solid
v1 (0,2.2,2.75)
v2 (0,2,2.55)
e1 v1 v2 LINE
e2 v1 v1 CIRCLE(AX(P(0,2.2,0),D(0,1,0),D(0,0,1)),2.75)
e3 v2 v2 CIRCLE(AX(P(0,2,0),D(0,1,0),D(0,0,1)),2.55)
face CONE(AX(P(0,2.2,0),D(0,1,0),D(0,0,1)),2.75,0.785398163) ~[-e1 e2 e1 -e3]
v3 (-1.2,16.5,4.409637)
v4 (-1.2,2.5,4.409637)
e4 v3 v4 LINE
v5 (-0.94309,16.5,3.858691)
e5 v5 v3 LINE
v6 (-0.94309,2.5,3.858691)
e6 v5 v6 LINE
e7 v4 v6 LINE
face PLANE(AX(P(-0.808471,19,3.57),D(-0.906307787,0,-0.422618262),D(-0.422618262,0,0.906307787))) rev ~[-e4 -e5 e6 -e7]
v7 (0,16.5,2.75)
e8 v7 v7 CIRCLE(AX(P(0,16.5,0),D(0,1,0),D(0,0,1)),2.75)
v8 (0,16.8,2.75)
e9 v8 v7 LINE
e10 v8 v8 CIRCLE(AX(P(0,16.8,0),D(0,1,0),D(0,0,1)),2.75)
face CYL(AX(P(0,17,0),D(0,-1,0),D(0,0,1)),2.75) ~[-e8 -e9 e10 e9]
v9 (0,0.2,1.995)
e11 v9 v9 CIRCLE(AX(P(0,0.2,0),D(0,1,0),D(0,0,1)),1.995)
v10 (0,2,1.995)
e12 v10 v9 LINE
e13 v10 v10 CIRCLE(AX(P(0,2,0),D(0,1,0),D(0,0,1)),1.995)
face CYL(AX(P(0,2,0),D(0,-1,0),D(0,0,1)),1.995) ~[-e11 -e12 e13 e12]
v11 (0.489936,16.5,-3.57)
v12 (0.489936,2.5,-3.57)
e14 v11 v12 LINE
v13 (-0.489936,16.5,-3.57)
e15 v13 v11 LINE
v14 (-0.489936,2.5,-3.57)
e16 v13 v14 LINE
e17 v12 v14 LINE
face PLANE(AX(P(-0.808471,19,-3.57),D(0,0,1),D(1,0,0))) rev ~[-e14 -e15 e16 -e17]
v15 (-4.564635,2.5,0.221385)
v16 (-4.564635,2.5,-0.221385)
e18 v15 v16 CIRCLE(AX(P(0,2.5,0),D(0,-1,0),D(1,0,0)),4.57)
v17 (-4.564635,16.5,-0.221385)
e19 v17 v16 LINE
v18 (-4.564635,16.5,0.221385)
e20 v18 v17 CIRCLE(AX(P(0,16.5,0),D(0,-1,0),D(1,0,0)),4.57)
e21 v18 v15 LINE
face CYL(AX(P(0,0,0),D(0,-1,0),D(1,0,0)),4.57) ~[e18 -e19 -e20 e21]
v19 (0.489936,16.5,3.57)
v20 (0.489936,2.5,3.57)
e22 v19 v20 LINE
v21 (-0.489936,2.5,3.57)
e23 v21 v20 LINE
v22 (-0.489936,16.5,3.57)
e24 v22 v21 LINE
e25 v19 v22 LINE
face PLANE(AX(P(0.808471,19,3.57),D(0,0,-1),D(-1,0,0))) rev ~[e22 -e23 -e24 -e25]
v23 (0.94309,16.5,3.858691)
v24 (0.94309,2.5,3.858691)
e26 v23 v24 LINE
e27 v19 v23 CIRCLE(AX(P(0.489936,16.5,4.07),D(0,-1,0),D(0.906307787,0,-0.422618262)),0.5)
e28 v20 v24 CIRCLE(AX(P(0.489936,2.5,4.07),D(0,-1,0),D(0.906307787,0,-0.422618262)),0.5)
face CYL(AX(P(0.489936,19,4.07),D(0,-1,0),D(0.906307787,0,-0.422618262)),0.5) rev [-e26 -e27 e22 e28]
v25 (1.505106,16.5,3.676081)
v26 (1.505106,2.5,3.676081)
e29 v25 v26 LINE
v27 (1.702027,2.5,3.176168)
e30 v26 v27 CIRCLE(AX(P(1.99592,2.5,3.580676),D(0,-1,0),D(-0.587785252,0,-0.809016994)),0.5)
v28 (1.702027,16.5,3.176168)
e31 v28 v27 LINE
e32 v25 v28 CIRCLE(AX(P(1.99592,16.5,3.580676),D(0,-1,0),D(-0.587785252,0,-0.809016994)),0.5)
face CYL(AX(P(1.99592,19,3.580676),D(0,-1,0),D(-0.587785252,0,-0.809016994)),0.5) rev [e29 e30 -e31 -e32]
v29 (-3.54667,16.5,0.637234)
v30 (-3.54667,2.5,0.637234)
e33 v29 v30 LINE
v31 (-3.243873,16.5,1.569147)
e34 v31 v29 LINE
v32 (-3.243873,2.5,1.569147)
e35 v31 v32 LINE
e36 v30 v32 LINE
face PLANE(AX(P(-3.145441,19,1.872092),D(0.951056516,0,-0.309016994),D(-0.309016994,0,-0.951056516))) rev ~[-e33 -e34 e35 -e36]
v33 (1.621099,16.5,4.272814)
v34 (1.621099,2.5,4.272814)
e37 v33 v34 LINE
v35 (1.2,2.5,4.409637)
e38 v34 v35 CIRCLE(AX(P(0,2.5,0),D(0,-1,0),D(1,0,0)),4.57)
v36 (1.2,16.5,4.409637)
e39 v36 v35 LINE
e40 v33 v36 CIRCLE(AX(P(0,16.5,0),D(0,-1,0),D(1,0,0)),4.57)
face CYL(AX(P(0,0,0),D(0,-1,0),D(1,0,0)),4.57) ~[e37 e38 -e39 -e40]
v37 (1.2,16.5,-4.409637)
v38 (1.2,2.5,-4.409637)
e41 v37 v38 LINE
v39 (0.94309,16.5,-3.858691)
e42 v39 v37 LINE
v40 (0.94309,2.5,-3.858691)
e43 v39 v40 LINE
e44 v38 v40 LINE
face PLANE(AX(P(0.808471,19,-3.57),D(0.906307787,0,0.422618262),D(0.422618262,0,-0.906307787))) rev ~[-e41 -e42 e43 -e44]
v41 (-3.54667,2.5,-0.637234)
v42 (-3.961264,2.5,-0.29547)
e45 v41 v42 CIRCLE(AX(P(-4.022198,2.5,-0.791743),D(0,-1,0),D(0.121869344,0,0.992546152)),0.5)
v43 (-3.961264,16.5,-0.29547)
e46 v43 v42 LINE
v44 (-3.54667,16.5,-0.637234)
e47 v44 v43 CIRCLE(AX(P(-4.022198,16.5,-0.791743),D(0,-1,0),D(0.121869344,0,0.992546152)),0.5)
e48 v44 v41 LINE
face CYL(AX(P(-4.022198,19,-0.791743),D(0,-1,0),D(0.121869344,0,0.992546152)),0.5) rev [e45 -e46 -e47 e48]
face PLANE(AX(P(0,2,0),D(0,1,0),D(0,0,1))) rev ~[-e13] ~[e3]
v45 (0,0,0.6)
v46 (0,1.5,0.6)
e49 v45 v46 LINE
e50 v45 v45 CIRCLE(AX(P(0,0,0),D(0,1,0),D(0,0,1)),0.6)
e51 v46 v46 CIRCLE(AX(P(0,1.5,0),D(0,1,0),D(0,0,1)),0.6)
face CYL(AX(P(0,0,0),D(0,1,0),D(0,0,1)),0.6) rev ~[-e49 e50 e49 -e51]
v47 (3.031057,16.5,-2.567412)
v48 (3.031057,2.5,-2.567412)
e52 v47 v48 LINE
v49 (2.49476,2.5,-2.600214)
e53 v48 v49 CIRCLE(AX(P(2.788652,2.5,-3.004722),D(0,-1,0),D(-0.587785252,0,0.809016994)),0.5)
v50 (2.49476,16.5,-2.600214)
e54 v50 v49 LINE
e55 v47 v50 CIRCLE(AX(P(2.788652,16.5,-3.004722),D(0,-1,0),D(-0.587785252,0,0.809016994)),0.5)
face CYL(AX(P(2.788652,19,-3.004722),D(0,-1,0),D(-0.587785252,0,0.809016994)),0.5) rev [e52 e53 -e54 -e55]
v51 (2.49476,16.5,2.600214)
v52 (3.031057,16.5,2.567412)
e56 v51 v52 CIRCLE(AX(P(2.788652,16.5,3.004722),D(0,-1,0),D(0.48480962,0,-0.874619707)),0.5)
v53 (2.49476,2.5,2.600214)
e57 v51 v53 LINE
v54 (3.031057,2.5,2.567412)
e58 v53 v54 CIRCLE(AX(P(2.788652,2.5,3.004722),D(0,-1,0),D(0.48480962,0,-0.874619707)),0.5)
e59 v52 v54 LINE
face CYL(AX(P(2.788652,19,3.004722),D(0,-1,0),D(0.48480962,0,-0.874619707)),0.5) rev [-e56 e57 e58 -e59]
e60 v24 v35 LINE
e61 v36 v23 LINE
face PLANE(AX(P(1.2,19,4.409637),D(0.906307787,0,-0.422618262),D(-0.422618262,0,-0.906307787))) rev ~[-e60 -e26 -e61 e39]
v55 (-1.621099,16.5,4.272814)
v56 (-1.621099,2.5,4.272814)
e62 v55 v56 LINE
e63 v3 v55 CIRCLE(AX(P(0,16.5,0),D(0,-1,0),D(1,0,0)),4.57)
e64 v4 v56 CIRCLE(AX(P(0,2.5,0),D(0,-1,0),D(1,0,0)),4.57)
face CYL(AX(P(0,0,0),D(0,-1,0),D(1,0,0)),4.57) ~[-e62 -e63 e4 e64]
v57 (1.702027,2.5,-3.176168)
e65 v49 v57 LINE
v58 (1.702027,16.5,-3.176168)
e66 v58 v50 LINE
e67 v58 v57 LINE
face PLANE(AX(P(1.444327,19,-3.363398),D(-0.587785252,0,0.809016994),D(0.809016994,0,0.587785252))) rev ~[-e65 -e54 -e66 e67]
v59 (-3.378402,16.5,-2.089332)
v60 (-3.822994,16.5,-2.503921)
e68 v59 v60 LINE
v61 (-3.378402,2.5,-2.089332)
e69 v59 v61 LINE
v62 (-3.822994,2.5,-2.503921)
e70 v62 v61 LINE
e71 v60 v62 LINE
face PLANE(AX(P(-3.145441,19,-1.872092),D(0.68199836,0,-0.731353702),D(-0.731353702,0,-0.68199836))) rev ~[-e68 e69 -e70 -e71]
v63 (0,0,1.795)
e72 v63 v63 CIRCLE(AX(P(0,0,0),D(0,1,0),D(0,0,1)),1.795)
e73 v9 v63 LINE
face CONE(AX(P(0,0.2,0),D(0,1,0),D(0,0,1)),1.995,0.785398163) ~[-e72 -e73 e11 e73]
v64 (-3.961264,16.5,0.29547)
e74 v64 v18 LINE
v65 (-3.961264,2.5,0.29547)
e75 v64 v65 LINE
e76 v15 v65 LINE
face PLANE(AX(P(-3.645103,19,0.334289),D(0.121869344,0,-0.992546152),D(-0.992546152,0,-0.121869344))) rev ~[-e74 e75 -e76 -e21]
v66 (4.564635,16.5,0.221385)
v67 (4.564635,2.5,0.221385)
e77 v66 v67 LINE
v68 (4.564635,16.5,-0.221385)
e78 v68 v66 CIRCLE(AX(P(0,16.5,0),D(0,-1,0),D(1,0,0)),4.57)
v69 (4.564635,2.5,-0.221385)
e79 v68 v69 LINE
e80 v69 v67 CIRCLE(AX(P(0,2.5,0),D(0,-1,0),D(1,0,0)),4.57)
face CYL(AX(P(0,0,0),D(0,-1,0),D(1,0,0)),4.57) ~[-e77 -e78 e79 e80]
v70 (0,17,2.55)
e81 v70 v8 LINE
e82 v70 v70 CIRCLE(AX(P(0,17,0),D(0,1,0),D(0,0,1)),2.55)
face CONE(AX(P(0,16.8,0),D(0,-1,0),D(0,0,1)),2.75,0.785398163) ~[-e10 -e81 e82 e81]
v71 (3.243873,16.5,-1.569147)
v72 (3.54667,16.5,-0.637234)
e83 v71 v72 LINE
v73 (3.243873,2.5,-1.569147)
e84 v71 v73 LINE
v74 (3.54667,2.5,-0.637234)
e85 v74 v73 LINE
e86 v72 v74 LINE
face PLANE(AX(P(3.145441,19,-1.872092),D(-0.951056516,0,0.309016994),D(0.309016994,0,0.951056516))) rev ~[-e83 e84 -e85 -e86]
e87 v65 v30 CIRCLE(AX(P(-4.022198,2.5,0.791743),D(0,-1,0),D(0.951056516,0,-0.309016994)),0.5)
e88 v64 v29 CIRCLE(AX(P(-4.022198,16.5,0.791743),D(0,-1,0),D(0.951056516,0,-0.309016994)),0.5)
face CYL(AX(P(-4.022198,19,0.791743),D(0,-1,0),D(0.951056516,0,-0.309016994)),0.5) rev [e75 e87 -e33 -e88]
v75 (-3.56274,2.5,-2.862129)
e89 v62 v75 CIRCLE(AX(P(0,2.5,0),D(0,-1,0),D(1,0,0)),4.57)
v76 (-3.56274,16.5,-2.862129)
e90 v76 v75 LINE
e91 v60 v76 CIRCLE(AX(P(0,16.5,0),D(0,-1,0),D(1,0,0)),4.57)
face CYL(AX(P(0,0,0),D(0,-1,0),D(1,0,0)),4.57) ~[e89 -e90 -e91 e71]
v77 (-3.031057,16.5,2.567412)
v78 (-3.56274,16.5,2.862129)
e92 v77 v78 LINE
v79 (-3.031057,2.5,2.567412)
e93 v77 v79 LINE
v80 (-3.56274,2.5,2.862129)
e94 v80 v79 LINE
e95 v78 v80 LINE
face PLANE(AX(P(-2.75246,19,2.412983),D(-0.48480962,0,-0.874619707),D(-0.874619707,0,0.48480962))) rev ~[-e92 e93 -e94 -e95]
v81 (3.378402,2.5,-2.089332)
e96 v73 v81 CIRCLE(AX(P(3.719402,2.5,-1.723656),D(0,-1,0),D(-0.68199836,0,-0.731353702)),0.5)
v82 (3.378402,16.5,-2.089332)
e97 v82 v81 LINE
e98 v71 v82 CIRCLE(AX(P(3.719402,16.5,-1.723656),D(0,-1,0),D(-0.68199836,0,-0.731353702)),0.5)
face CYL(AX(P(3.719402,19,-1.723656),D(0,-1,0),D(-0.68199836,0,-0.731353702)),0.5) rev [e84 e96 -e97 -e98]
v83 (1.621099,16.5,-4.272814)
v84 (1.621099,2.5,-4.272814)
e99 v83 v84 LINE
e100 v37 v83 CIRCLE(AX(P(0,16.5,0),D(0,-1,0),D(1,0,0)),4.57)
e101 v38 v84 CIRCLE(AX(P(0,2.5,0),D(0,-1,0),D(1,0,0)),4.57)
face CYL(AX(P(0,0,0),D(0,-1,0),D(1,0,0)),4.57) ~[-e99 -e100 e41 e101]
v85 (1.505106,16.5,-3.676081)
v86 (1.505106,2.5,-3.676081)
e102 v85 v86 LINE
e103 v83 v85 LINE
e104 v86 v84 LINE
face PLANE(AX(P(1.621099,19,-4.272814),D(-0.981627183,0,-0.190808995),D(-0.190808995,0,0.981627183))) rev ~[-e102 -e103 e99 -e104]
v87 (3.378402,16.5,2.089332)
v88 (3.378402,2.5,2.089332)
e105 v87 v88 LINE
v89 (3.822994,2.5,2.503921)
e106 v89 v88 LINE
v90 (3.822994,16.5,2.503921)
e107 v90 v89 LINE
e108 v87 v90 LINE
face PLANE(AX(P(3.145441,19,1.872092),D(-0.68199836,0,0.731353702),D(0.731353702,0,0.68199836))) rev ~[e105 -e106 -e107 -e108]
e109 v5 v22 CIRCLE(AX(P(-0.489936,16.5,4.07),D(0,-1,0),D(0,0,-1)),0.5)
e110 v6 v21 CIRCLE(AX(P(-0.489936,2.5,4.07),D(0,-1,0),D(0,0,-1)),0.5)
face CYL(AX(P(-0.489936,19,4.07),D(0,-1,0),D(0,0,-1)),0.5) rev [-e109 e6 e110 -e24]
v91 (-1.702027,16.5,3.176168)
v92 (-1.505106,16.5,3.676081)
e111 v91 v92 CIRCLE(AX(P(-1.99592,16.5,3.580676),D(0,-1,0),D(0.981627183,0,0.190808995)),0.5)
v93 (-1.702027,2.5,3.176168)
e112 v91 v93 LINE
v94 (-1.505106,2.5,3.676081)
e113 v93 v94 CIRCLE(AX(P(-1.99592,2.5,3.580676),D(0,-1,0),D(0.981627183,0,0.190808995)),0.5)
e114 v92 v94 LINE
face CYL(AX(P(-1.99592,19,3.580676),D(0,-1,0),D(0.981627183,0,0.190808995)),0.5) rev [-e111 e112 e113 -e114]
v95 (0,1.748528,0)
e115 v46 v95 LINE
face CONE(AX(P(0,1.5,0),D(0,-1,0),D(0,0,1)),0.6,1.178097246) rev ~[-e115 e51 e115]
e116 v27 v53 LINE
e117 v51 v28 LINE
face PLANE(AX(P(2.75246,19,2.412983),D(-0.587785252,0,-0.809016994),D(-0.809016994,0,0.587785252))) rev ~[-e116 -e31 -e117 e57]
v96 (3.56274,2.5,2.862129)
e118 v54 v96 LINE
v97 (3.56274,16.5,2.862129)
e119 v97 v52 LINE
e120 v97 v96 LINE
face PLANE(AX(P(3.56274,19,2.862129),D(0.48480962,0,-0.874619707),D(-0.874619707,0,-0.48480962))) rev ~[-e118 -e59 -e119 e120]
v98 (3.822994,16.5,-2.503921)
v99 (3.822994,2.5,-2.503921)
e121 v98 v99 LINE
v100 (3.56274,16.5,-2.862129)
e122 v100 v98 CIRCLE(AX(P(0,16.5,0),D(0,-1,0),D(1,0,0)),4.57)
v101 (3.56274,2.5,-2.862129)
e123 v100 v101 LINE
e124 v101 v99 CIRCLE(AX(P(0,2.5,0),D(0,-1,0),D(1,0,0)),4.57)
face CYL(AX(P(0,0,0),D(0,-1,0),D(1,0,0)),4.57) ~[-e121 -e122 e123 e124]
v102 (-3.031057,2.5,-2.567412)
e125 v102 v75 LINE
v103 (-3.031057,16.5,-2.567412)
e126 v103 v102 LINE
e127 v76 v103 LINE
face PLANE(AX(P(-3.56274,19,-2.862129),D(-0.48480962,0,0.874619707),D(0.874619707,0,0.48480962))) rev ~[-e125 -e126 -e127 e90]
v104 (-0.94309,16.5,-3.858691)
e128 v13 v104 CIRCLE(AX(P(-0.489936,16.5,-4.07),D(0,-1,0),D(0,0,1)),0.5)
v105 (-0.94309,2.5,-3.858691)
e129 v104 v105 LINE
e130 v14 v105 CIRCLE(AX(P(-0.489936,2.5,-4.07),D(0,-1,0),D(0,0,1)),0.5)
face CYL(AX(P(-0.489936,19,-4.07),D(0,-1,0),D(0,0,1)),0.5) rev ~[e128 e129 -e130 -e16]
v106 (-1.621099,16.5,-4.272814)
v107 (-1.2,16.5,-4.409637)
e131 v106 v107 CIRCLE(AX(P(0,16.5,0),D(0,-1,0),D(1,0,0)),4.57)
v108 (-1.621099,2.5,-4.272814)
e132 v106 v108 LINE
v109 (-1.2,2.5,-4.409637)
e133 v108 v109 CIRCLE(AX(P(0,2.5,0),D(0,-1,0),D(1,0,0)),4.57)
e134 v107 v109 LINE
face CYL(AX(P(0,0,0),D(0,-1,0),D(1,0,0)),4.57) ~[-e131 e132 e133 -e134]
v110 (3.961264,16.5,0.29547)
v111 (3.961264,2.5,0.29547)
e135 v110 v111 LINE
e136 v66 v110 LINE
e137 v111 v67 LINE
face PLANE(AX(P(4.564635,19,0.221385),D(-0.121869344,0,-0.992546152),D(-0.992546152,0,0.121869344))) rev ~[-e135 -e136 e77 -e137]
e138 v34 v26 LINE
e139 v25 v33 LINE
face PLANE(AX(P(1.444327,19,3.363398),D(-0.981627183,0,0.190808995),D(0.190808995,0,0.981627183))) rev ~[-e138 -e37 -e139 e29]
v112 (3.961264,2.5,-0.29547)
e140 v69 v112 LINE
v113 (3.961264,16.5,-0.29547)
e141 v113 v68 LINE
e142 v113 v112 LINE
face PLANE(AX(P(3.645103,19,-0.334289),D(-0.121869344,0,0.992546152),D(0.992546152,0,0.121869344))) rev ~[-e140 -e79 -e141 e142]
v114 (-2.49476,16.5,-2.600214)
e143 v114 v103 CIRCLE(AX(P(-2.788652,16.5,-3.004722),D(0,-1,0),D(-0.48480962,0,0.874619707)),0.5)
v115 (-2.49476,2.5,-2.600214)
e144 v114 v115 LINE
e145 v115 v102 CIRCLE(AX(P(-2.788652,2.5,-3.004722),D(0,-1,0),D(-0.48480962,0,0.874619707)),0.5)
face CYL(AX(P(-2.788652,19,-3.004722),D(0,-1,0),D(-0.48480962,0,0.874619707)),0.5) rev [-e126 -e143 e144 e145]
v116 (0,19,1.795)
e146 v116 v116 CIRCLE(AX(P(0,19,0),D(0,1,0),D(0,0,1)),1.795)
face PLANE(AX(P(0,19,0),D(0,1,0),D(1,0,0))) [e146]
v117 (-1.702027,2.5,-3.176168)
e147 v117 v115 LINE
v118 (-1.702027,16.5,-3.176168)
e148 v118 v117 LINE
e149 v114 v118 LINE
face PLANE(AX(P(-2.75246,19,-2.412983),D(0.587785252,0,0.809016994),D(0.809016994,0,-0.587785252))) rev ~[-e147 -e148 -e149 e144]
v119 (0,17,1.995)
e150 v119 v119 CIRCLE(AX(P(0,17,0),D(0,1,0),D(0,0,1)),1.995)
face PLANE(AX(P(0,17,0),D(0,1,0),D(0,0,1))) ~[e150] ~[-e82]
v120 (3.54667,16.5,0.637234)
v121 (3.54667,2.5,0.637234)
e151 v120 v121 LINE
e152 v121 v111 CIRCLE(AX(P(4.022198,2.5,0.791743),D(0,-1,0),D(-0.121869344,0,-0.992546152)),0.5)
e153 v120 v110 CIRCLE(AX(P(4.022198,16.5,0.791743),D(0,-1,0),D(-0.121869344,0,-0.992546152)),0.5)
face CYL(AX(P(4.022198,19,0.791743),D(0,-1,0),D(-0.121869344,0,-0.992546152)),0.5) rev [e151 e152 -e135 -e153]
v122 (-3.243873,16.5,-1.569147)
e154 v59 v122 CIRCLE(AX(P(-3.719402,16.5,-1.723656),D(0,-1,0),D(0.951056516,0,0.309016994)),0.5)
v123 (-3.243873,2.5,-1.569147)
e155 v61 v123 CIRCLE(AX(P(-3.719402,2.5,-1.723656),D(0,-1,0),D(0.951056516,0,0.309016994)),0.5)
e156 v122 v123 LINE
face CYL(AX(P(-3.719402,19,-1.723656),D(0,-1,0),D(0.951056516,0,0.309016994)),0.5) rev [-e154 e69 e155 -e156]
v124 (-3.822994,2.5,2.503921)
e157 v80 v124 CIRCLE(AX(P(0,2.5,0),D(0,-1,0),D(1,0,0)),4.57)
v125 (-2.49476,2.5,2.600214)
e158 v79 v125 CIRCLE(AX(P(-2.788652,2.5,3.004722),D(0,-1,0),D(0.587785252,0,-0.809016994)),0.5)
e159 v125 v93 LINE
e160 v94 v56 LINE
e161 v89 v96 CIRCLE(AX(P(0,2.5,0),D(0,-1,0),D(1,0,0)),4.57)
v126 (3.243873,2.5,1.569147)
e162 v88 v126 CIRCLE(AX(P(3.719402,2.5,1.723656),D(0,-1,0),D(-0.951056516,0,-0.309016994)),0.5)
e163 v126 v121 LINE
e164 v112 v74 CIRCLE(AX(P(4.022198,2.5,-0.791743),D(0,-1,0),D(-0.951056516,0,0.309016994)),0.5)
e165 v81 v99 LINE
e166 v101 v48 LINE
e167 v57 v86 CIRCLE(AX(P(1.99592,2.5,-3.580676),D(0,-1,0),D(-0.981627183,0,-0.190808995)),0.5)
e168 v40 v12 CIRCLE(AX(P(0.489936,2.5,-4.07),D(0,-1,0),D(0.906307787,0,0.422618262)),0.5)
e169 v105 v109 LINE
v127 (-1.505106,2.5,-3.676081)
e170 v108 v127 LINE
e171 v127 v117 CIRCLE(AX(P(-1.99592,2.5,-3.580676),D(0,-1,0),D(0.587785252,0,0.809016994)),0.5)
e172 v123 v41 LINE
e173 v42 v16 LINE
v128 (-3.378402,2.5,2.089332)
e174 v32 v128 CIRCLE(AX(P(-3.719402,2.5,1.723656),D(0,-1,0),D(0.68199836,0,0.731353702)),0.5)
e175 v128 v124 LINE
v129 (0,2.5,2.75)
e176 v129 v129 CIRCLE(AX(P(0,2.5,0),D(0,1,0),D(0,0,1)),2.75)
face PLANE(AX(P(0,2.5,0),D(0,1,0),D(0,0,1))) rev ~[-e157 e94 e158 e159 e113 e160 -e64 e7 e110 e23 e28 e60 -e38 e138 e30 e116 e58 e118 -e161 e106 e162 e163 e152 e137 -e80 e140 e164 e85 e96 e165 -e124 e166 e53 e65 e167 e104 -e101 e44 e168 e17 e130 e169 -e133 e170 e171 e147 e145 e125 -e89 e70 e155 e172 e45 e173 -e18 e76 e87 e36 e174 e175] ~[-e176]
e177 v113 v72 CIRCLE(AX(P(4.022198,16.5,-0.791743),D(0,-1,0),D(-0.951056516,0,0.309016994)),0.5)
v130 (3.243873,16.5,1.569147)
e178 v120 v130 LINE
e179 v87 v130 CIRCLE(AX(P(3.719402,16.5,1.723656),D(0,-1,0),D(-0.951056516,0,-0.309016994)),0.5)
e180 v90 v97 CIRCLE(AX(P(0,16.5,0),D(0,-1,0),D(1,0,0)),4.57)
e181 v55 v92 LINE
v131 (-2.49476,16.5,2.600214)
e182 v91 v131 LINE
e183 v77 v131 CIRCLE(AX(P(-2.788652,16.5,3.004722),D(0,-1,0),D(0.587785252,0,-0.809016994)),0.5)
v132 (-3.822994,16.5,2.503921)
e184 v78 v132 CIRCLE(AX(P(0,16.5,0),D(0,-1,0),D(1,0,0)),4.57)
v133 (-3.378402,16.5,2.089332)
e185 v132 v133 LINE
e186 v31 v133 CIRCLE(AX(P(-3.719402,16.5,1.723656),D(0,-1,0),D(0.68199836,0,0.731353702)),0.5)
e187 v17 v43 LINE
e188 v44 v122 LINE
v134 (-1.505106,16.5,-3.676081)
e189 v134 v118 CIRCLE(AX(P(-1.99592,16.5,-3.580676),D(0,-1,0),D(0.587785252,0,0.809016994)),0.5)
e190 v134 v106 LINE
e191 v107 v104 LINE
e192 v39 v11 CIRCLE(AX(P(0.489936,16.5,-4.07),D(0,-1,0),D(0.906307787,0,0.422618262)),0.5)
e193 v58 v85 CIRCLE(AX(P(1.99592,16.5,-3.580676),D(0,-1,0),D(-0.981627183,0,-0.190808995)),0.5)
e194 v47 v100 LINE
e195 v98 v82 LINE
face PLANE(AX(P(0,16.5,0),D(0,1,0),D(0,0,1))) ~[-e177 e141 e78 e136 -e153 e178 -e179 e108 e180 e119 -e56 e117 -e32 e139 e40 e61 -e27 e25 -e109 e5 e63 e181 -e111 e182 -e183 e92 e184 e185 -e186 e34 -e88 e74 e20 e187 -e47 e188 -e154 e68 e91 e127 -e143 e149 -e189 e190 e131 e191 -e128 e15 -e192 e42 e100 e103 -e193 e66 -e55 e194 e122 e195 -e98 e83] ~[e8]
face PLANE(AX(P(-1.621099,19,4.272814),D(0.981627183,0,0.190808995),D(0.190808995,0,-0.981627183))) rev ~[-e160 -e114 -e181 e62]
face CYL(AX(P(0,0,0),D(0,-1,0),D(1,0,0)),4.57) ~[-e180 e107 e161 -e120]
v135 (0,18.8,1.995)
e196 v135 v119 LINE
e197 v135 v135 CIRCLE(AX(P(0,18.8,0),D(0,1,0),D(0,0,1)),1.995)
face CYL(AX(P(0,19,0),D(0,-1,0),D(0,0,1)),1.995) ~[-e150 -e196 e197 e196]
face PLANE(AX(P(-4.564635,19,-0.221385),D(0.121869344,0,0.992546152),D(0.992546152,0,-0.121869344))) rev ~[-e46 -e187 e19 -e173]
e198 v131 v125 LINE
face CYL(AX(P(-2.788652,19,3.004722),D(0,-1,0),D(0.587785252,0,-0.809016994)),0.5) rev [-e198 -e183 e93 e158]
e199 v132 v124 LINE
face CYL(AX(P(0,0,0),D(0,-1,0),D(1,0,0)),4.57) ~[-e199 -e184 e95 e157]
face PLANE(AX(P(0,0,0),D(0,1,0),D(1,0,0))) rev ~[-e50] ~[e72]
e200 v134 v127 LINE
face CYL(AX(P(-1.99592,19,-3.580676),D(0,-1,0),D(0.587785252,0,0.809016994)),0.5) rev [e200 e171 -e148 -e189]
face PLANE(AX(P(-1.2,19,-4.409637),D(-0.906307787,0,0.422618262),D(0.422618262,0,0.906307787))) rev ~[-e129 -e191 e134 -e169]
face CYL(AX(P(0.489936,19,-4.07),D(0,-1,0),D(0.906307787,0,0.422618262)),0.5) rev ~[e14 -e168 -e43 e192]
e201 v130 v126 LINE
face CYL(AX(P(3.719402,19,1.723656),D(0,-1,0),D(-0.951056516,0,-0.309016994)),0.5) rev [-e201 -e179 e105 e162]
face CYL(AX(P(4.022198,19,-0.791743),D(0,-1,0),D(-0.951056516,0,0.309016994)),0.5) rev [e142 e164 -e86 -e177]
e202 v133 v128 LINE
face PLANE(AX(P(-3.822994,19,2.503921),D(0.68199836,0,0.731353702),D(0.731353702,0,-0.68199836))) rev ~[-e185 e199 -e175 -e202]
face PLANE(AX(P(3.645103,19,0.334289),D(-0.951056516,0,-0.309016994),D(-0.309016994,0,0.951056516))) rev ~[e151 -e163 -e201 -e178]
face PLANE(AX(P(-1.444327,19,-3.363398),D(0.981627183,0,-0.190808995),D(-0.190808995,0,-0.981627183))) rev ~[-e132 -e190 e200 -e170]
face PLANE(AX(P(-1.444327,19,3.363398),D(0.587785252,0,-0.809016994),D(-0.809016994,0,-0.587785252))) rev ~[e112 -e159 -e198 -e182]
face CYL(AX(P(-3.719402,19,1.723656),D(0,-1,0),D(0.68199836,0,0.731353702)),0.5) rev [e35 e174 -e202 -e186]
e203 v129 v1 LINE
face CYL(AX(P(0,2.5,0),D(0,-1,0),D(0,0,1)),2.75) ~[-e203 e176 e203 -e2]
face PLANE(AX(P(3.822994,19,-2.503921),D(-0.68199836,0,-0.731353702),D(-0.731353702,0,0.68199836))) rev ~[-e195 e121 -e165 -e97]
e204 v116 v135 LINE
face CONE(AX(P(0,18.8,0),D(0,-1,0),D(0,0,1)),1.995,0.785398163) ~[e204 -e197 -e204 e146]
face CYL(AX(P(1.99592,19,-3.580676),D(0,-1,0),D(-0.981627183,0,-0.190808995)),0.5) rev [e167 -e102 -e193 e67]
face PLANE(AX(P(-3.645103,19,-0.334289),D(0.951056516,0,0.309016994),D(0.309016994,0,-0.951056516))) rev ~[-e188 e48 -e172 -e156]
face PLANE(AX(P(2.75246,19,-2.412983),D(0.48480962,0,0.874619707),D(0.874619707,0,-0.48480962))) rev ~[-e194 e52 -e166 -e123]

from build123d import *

# Parameters (mm, degrees)
SKIZZE1_R                       = 4.57
AUFSATZ_LINEAR_AUSTRAGEN1_DEPTH = 19
SCHNITT_LINEAR_AUSTRAGEN1_DEPTH = 21.069125541
VERRUNDUNG1_R                   = 0.5
KREISMUSTER1_COUNT              = 10
VERRUNDUNG1_OF_KREISMUSTER1_R   = 0.5
FASE1_SIZE                      = 0.2


with BuildPart() as part:
    # Skizze1 → Aufsatz-Linear austragen1 (new body)
    with BuildSketch(Plane(origin=(0, 0, 0), x_dir=(1, 0, 0), z_dir=(0, 1, 0))):
        Circle(SKIZZE1_R)
    extrude(amount=AUFSATZ_LINEAR_AUSTRAGEN1_DEPTH)

    # Skizze12 → Schnitt-Linear austragen1 (cut, through all)
    with BuildSketch(Plane(origin=(0, 19, 0), x_dir=(1, 0, 0), z_dir=(0, 1, 0))):
        with BuildLine():
            Line((-1.2, 4.409637173), (-0.808470756, 3.57))
            Line((-0.808470756, 3.57), (0.808470756, 3.57))
            Line((0.808470756, 3.57), (1.2, 4.409637173))
            ThreePointArc((1.2, 4.409637173), (0, 4.57), (-1.2, 4.409637173))
        make_face()
    schnitt_linear_austragen1 = extrude(amount=-SCHNITT_LINEAR_AUSTRAGEN1_DEPTH, mode=Mode.SUBTRACT)

    # Verrundung1
    verrundung1_edges = [part.edges().sort_by_distance(p)[0] for p in [
        (-0.808470756, 9.5, -3.57),
        (0.808470756, 9.5, -3.57),
    ]]
    fillet(verrundung1_edges, radius=VERRUNDUNG1_R)

    # Kreismuster1: Schnitt-Linear austragen1 ×10 about axis
    kreismuster1_axis = Axis((0, -1.826859831, 0), (0, 1, 0))
    for i in range(1, KREISMUSTER1_COUNT):
        add(schnitt_linear_austragen1.rotate(kreismuster1_axis, i * 360 / KREISMUSTER1_COUNT), mode=Mode.SUBTRACT)

    # Verrundung1 of Kreismuster1
    verrundung1_of_kreismuster1_edges = [part.edges().sort_by_distance(p)[0] for p in [
        (-2.752459932, 9.5, -2.412983483),
        (-1.44432677, 9.5, -3.363397857),
        (-3.645102966, 9.5, -0.334289289),
        (-3.14544056, 9.5, -1.872092051),
        (-3.14544056, 9.5, 1.872092051),
        (-3.645102966, 9.5, 0.334289289),
        (-1.44432677, 9.5, 3.363397857),
        (-2.752459932, 9.5, 2.412983483),
        (0.808470756, 9.5, 3.57),
        (-0.808470756, 9.5, 3.57),
        (2.752459932, 9.5, 2.412983483),
        (1.44432677, 9.5, 3.363397857),
        (3.645102966, 9.5, 0.334289289),
        (3.14544056, 9.5, 1.872092051),
        (3.14544056, 9.5, -1.872092051),
        (3.645102966, 9.5, -0.334289289),
        (1.44432677, 9.5, -3.363397857),
        (2.752459932, 9.5, -2.412983483),
    ]]
    fillet(verrundung1_of_kreismuster1_edges, radius=VERRUNDUNG1_OF_KREISMUSTER1_R)

    # Skizze13 → Schnitt-Rotation1 (revolve, cut)
    with BuildSketch(Plane(origin=(0, 0, 0), x_dir=(0, 0, -1), z_dir=(1, 0, 0))):
        Polygon((-1.995, 0), (-10.076763041, 0), (-10.076763041, 19), (-1.995, 19), (-1.995, 17), (-2.75, 17), (-2.75, 16.5), (-6.450923694, 16.5), (-6.450923694, 2.5), (-2.75, 2.5), (-2.75, 2), (-1.995, 2), align=None)
    revolve(axis=Axis((0, -5.607699778, 0), (0, 1, 0)), mode=Mode.SUBTRACT)

    # Fase1
    fase1_edges = [part.edges().sort_by_distance(p)[0] for p in [
        (0, 0, -1.995),
        (0, 2, -2.75),
        (0, 17, -2.75),
        (0, 19, -1.995),
    ]]
    chamfer(fase1_edges, length=FASE1_SIZE)

    # Skizze14 → Schnitt-Rotation2 (revolve, cut)
    with BuildSketch(Plane(origin=(0, 0, 0), x_dir=(0, 0, -1), z_dir=(1, 0, 0))):
        Polygon((0, 0), (-0.6, 0), (-0.6, 1.5), (0, 1.748528137), align=None)
    revolve(axis=Axis((0, -2.816169131, 0), (0, 1, 0)), mode=Mode.SUBTRACT)


solid = part.part
